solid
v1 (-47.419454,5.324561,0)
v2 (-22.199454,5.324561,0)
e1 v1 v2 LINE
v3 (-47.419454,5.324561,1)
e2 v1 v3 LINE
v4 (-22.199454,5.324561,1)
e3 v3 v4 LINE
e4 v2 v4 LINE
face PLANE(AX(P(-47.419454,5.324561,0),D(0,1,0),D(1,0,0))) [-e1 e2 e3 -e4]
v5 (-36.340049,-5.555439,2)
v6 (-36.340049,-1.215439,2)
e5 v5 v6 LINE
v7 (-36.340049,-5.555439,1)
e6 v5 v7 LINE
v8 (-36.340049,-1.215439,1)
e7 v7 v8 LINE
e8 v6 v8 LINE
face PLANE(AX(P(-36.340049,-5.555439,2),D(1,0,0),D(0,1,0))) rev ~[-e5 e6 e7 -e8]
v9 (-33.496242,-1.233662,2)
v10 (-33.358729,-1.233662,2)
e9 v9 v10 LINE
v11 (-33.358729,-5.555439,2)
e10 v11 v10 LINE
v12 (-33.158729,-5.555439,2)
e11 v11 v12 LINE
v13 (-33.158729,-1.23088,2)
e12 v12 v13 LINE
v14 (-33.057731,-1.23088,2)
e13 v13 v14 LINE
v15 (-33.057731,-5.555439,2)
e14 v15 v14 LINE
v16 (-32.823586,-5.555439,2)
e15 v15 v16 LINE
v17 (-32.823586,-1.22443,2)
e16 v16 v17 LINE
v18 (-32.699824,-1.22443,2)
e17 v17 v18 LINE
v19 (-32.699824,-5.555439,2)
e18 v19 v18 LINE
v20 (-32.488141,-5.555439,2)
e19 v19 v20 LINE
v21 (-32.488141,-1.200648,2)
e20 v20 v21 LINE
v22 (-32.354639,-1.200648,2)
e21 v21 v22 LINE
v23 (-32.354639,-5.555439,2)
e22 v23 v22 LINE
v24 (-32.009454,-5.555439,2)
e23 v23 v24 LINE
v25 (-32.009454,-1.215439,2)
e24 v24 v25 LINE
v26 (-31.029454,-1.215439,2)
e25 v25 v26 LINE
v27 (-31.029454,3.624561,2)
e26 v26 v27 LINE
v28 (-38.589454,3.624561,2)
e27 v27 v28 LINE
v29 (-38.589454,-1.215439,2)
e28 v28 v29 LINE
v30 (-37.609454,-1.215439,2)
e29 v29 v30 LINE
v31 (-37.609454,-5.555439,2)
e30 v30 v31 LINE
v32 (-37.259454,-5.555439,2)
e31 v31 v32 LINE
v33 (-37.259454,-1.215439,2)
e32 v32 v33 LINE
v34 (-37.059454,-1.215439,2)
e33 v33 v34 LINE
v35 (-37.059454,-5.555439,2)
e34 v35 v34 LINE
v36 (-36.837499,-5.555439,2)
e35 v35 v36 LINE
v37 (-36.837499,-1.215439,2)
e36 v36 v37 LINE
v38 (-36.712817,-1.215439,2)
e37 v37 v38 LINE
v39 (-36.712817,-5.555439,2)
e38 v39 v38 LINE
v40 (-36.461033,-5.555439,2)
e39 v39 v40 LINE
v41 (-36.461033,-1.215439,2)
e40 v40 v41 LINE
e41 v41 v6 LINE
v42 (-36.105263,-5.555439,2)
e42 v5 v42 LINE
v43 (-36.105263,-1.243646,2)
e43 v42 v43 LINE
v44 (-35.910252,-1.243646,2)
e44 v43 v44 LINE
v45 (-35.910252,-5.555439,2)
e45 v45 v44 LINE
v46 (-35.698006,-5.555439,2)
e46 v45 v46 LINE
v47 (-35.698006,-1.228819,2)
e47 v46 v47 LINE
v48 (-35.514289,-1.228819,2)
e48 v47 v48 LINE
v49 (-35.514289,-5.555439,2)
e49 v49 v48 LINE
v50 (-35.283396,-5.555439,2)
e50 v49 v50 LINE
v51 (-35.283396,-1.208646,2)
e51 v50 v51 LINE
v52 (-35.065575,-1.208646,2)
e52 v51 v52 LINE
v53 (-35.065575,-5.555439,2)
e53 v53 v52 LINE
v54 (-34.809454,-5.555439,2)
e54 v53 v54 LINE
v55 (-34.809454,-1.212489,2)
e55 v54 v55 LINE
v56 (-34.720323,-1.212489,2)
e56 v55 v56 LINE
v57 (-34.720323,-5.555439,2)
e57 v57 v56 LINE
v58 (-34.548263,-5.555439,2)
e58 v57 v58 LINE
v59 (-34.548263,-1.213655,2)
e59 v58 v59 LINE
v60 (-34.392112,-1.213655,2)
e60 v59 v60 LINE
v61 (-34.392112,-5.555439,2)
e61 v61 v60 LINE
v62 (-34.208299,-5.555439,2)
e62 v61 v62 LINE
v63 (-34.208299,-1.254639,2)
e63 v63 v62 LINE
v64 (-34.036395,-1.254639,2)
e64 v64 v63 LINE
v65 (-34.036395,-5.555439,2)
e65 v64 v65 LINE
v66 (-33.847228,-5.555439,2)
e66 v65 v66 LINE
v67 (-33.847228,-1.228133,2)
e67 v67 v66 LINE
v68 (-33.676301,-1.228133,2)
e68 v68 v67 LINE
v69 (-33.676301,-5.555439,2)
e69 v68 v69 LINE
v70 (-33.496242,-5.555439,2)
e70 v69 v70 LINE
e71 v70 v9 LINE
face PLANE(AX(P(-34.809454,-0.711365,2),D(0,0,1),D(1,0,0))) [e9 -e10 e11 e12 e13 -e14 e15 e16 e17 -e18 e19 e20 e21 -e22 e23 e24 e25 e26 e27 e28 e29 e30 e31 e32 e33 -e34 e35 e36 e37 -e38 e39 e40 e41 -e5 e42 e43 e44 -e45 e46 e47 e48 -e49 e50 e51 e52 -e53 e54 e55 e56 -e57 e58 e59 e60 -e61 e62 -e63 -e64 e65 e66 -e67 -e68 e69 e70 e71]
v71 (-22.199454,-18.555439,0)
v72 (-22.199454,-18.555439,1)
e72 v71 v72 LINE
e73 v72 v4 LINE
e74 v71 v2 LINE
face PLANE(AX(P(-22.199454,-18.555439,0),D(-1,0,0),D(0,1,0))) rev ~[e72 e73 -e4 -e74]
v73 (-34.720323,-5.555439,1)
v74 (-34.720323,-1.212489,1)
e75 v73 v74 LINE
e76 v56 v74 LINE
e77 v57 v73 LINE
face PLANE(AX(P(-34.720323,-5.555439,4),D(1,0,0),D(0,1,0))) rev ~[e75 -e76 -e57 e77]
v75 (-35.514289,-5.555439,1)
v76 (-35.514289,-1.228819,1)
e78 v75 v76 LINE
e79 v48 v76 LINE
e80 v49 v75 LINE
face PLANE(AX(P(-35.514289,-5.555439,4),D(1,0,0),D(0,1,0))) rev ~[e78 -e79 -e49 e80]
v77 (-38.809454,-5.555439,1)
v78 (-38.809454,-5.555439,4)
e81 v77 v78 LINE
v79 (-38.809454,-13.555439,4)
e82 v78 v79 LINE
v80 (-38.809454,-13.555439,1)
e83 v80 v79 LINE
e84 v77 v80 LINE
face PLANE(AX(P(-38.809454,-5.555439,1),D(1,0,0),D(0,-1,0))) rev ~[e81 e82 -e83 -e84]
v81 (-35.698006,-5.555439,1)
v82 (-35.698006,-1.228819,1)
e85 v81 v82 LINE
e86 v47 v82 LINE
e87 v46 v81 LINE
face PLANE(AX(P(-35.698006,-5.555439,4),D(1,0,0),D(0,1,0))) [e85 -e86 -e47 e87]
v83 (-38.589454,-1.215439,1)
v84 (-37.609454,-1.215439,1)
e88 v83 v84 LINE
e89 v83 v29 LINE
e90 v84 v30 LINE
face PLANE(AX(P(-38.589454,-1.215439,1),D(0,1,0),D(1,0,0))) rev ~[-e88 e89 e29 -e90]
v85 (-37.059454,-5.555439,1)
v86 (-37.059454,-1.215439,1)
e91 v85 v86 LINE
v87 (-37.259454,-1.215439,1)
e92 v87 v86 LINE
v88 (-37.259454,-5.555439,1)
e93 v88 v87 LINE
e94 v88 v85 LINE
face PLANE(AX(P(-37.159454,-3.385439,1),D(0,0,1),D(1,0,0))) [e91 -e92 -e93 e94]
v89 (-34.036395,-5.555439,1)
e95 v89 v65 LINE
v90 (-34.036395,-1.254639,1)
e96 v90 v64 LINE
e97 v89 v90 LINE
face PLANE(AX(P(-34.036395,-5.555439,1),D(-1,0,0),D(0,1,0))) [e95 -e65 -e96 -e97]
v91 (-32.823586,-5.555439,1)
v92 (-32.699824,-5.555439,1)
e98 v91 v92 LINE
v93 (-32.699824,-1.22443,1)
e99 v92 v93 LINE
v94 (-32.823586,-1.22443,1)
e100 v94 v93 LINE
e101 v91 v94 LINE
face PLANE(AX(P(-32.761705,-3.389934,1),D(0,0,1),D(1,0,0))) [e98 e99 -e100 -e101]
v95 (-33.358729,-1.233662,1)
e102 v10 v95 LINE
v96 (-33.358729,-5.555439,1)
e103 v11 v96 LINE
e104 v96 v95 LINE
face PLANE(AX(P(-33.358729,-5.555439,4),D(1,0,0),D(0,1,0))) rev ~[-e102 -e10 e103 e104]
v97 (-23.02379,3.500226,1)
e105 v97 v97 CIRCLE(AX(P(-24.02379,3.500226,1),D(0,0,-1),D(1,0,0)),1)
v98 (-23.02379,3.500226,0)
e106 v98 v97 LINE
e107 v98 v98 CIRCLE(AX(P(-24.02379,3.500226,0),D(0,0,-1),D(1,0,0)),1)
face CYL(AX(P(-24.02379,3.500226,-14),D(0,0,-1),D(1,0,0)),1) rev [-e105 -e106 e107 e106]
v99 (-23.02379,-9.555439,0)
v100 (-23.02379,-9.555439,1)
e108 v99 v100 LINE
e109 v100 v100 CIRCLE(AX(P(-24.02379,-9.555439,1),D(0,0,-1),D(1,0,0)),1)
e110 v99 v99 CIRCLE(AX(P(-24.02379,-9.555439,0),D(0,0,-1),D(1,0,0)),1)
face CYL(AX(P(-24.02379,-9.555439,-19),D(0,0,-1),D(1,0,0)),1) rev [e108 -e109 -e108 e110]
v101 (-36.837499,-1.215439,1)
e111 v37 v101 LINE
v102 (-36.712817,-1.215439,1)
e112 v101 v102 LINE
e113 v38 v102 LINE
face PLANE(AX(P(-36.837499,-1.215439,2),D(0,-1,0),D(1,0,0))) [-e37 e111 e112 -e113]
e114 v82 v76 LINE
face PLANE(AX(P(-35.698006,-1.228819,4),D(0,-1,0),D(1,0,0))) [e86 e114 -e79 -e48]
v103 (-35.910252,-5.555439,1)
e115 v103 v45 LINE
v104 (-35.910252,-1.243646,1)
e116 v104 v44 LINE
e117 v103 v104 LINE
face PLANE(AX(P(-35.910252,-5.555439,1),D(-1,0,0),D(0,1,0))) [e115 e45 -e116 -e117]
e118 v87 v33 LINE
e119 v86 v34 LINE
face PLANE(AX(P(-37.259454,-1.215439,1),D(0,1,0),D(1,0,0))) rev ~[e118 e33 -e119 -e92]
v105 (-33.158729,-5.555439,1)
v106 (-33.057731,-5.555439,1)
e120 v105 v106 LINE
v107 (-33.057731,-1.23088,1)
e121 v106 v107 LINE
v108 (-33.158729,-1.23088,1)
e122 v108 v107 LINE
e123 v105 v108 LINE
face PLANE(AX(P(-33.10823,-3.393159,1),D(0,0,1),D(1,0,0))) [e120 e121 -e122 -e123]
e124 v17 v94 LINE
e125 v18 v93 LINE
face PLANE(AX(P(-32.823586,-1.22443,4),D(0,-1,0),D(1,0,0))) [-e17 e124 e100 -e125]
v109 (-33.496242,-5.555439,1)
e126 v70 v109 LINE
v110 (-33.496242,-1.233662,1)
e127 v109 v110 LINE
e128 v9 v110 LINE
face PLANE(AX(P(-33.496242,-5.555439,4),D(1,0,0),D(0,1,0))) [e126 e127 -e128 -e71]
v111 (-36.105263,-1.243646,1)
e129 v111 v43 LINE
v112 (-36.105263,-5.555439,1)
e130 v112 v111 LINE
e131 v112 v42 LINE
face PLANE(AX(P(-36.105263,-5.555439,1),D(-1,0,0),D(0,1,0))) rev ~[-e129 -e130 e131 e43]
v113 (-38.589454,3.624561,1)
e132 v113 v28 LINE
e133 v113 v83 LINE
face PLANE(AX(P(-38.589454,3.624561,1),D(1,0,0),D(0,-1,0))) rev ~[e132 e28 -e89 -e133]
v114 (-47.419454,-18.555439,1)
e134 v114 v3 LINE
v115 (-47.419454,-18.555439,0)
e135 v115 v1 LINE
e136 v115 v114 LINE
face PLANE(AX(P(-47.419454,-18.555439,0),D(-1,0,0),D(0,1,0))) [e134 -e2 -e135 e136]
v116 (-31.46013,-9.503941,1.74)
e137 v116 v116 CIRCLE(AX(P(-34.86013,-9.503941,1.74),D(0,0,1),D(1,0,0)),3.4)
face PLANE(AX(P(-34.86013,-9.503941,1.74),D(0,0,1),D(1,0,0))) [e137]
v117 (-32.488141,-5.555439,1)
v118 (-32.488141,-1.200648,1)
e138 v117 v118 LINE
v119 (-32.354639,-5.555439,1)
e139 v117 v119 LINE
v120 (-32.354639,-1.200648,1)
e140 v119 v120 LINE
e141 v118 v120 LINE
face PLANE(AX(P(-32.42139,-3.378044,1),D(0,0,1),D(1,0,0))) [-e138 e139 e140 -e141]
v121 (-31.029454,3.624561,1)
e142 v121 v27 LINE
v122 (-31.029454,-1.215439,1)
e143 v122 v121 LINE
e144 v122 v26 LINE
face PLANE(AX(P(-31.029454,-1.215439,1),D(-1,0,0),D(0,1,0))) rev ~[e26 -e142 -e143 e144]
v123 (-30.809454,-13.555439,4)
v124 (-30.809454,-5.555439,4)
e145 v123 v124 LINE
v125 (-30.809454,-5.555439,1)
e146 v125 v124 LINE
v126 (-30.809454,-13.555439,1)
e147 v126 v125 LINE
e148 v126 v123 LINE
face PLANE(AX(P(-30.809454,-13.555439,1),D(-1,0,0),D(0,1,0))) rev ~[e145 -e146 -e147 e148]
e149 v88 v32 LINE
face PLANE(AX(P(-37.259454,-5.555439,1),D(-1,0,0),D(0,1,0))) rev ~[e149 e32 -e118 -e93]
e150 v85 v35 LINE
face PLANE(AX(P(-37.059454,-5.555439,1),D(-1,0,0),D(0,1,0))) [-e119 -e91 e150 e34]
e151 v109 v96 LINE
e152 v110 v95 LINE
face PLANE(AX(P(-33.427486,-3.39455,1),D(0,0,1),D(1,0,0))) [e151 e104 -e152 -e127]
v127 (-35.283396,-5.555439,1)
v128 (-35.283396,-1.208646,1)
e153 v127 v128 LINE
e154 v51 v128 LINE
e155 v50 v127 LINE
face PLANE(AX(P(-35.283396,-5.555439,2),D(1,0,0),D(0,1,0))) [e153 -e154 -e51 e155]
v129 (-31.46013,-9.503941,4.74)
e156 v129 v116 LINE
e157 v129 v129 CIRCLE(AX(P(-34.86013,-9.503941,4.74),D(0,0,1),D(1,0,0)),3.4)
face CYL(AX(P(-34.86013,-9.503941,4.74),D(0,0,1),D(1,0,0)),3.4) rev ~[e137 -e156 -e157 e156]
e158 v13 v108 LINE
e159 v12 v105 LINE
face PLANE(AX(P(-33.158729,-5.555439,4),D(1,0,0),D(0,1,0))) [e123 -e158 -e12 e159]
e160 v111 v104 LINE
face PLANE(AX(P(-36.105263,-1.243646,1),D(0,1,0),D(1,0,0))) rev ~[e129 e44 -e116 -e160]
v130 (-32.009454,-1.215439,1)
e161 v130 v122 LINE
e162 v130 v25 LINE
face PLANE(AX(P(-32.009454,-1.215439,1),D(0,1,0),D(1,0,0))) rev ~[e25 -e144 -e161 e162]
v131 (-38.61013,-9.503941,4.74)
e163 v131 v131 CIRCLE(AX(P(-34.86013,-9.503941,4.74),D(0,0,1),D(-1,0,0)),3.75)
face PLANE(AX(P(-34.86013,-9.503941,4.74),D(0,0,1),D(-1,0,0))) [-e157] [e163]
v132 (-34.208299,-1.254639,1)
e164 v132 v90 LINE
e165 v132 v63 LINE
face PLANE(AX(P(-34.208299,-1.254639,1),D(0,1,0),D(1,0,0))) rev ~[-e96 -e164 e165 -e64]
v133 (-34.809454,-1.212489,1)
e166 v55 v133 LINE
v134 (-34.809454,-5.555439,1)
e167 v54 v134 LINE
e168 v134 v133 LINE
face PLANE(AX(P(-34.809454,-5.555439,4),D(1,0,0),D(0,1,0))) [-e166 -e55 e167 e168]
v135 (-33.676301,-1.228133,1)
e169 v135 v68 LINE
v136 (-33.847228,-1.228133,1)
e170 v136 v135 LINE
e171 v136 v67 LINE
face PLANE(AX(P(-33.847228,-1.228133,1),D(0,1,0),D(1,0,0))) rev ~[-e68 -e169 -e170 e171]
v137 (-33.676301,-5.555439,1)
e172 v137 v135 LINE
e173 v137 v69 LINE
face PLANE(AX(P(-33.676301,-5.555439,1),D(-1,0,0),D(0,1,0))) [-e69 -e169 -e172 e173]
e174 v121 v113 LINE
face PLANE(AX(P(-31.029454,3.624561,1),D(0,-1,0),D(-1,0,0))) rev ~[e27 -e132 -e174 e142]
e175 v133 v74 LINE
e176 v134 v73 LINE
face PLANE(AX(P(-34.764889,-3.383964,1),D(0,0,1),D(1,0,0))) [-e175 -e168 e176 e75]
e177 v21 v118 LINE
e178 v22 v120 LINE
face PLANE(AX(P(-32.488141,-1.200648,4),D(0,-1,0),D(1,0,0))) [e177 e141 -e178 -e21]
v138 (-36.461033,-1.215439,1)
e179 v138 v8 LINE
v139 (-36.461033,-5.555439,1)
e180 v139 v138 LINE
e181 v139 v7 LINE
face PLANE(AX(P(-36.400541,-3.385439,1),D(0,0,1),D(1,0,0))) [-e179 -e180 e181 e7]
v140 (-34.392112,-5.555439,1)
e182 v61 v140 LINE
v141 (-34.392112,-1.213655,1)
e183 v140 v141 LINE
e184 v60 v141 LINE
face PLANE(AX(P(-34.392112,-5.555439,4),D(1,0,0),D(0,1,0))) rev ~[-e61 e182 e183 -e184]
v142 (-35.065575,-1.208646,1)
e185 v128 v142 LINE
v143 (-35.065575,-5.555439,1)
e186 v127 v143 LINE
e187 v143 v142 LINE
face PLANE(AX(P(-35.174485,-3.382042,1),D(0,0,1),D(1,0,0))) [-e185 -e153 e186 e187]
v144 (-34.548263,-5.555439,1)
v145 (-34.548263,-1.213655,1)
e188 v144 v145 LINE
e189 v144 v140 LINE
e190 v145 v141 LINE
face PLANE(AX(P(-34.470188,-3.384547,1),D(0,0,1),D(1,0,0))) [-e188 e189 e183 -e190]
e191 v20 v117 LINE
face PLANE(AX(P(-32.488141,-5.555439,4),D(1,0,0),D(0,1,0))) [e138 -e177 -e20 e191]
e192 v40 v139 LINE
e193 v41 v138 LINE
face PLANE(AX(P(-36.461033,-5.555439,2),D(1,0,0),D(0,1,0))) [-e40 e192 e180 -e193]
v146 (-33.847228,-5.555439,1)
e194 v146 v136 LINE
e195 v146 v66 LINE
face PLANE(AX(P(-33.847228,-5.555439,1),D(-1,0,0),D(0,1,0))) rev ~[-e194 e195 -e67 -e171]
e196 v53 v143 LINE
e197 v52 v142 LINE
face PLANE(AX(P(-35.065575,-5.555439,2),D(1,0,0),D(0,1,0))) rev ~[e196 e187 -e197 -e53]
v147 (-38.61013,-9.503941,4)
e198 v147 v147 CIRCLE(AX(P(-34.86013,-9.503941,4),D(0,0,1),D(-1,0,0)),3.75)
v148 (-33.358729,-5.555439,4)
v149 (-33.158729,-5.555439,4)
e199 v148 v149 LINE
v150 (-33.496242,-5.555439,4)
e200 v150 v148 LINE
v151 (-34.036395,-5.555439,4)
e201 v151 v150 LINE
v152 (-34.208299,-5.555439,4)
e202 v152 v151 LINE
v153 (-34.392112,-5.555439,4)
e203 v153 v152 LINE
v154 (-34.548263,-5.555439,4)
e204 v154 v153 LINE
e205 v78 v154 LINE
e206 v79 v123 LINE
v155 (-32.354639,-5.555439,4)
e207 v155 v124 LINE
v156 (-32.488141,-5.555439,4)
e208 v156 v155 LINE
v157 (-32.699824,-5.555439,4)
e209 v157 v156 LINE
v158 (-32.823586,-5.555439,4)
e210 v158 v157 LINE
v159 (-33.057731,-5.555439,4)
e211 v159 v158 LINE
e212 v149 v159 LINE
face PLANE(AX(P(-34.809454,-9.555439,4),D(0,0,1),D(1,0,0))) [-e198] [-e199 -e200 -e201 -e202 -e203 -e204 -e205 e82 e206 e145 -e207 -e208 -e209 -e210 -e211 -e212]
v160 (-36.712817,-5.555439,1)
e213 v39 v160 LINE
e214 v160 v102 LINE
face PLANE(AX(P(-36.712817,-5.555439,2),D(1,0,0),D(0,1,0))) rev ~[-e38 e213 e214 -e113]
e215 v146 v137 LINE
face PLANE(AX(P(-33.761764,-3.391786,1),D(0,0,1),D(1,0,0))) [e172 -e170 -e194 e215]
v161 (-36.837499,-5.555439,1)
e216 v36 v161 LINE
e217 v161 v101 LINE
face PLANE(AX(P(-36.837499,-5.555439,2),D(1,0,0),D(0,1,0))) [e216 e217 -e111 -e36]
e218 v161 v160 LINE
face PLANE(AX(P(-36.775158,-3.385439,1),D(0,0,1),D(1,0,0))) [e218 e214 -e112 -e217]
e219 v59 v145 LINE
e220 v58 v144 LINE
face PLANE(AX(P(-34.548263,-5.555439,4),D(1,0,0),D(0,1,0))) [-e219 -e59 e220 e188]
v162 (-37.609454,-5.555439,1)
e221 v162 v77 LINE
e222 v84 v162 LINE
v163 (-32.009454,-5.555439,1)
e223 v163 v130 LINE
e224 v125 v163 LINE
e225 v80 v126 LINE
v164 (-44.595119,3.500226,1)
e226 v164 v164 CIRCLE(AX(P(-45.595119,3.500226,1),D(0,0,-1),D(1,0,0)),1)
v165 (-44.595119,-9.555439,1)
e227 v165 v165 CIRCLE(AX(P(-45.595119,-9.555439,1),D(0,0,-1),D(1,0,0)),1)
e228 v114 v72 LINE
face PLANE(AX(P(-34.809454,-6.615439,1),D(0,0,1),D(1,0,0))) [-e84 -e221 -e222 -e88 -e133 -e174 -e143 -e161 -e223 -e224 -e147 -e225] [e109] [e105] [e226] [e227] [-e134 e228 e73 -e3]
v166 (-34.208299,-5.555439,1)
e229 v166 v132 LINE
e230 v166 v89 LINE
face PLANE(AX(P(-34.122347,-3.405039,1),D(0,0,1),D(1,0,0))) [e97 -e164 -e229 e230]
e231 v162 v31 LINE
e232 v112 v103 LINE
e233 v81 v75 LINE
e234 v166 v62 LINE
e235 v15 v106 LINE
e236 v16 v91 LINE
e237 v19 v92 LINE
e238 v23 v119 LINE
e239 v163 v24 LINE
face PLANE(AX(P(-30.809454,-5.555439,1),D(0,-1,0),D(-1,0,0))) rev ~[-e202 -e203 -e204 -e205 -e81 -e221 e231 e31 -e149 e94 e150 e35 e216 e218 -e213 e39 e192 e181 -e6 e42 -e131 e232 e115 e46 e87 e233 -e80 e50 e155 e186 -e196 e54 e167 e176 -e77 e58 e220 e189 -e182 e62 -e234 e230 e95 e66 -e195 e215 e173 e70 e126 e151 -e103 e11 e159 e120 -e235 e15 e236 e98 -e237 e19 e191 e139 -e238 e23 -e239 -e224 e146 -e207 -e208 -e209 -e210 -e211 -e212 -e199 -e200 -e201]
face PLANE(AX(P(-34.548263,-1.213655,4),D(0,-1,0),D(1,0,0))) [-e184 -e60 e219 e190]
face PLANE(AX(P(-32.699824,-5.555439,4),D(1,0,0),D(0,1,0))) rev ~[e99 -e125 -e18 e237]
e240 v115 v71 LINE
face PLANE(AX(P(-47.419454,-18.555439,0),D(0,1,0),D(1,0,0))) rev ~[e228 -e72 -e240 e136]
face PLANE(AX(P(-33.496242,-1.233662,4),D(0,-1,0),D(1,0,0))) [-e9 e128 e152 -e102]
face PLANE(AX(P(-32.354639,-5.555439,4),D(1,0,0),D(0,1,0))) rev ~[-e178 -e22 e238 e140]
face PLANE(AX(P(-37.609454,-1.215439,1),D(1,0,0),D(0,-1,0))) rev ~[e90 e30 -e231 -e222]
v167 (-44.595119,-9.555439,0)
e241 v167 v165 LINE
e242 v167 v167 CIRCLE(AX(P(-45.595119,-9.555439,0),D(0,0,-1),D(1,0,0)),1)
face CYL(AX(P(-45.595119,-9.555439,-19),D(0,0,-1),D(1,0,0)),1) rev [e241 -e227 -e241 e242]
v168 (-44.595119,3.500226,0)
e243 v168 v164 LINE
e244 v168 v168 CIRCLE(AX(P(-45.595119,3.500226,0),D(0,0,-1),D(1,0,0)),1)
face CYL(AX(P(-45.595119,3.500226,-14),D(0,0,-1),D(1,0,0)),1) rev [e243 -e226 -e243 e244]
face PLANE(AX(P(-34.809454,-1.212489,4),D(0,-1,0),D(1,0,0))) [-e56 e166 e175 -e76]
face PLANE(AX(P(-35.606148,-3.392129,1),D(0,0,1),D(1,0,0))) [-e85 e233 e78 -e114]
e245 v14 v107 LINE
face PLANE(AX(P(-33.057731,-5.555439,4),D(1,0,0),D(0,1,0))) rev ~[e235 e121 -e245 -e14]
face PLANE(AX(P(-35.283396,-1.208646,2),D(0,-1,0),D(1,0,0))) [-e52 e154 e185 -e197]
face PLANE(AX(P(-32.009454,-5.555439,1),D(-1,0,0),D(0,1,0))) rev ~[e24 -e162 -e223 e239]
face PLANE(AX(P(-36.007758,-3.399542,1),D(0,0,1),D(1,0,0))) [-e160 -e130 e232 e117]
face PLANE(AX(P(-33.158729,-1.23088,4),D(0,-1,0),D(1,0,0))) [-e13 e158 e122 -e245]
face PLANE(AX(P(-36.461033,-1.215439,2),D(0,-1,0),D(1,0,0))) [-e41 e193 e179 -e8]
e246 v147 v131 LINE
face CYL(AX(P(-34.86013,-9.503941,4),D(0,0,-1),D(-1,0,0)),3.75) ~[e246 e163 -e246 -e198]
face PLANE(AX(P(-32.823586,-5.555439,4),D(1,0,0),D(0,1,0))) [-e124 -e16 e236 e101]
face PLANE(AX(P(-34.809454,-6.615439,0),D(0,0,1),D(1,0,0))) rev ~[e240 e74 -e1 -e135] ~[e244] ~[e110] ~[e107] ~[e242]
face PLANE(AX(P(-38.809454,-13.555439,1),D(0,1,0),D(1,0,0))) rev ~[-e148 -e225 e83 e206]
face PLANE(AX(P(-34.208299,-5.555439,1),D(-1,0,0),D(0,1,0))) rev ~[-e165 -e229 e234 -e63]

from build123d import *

# Parameters (mm, degrees)
SKETCH1_W               = 25.22
SKETCH1_H               = 23.88
BOSS_EXTRUDE1_DEPTH     = 1
CUT_EXTRUDE1_DEPTH      = 31
CUT_EXTRUDE1_DEPTH_BACK = 15
SKETCH2_R               = 1
BOSS_EXTRUDE2_DEPTH     = 3
SKETCH5_R               = 3.75
BOSS_EXTRUDE4_DEPTH     = 0.74
SKETCH6_R               = 3.4
CUT_EXTRUDE2_DEPTH      = 3
CUT_EXTRUDE3_DEPTH      = 16
CUT_EXTRUDE3_DEPTH_BACK = 20
SKETCH7_R               = 1
BOSS_EXTRUDE5_DEPTH     = 1
SKETCH9_W               = 0.2
SKETCH9_H               = 4.34
CUT_EXTRUDE8_DEPTH      = 1
SKETCH10_W              = 0.124682
SKETCH10_H              = 4.34
CUT_EXTRUDE14_DEPTH     = 1
SKETCH13_W              = 0.120984153
SKETCH13_H              = 4.34
CUT_EXTRUDE15_DEPTH     = 1
SKETCH14_W              = 0.195011185
SKETCH14_H              = 4.311792785
CUT_EXTRUDE18_DEPTH     = 1
SKETCH15_W              = 0.183717696
SKETCH15_H              = 4.326619606
CUT_EXTRUDE21_DEPTH     = 3
SKETCH16_W              = 0.21782098
SKETCH16_H              = 4.34679289
CUT_EXTRUDE22_DEPTH     = 1
SKETCH17_W              = 0.089131755
SKETCH17_H              = 4.34294968
CUT_EXTRUDE23_DEPTH     = 3
SKETCH18_W              = 0.156151398
SKETCH18_H              = 4.341783659
CUT_EXTRUDE24_DEPTH     = 3
SKETCH19_W              = 0.171903048
SKETCH19_H              = 4.300799657
CUT_EXTRUDE26_DEPTH     = 3
SKETCH20_W              = 0.170926161
SKETCH20_H              = 4.327306154
CUT_EXTRUDE28_DEPTH     = 3
SKETCH21_W              = 0.137513245
SKETCH21_H              = 4.32177715
CUT_EXTRUDE29_DEPTH     = 3
SKETCH22_W              = 0.100998317
SKETCH22_H              = 4.324558634
CUT_EXTRUDE30_DEPTH     = 3
SKETCH23_W              = 0.123761921
SKETCH23_H              = 4.331008445
CUT_EXTRUDE31_DEPTH     = 3
SKETCH24_W              = 0.133501637
SKETCH24_H              = 4.354790364
CUT_EXTRUDE32_DEPTH     = 3


with BuildPart() as part:
    # Sketch1 → Boss-Extrude1 (new body)
    with BuildSketch(Plane.XY):
        with Locations((-34.809454486, -6.615438712)):
            Rectangle(SKETCH1_W, SKETCH1_H)
    extrude(amount=BOSS_EXTRUDE1_DEPTH)

    # Sketch2 → Cut-Extrude1 (cut, two sides: drawn at the far end of the back side and taken through both)
    with BuildSketch(Plane.XY.offset(1).offset(-CUT_EXTRUDE1_DEPTH_BACK)):
        with Locations((-24.023789981, 3.500225793)):
            Circle(SKETCH2_R)
        with Locations((-45.59511899, 3.500225793)):
            Circle(SKETCH2_R)
    extrude(amount=CUT_EXTRUDE1_DEPTH + CUT_EXTRUDE1_DEPTH_BACK, mode=Mode.SUBTRACT)

    # Sketch3 → Boss-Extrude2 (add)
    with BuildSketch(Plane.XY.offset(1)):
        Polygon((-34.809454486, -13.555438712), (-30.809454486, -13.555438712), (-30.809454486, -5.555438712), (-38.809454486, -5.555438712), (-38.809454486, -13.555438712), align=None)
    extrude(amount=BOSS_EXTRUDE2_DEPTH)

    # Sketch5 → Boss-Extrude4 (add)
    with BuildSketch(Plane.XY.offset(4)):
        with Locations(Location((-34.860129967, -9.503941157, 0), (0, 0, 180))):
            Circle(SKETCH5_R)
    extrude(amount=BOSS_EXTRUDE4_DEPTH)

    # Sketch6 → Cut-Extrude2 (cut)
    with BuildSketch(Plane.XY.offset(4.74)):
        with Locations((-34.860129967, -9.503941157)):
            Circle(SKETCH6_R)
    extrude(amount=-CUT_EXTRUDE2_DEPTH, mode=Mode.SUBTRACT)

    # Sketch7 → Cut-Extrude3 (cut, two sides: drawn at the far end of the back side and taken through both)
    with BuildSketch(Plane.XY.offset(1).offset(-CUT_EXTRUDE3_DEPTH_BACK)):
        with Locations((-24.023789981, -9.555438712)):
            Circle(SKETCH7_R)
        with Locations((-45.59511899, -9.555438712)):
            Circle(SKETCH7_R)
    extrude(amount=CUT_EXTRUDE3_DEPTH + CUT_EXTRUDE3_DEPTH_BACK, mode=Mode.SUBTRACT)

    # Sketch8 → Boss-Extrude5 (add)
    with BuildSketch(Plane.XY.offset(1)):
        Polygon((-38.589454486, 3.624561288), (-38.589454486, -1.215438712), (-37.609454486, -1.215438712), (-37.609454486, -5.555438712), (-32.009454486, -5.555438712), (-32.009454486, -1.215438712), (-31.029454486, -1.215438712), (-31.029454486, 3.624561288), (-34.809454486, 3.624561288), align=None)
    extrude(amount=BOSS_EXTRUDE5_DEPTH)

    # Sketch9 → Cut-Extrude8 (cut)
    with BuildSketch(Plane.XY.offset(1)):
        with Locations((-37.159454486, -3.385438712)):
            Rectangle(SKETCH9_W, SKETCH9_H)
    extrude(amount=CUT_EXTRUDE8_DEPTH, mode=Mode.SUBTRACT)

    # Sketch10 → Cut-Extrude14 (cut)
    with BuildSketch(Plane.XY.offset(2)):
        with Locations((-36.775157633, -3.385438712)):
            Rectangle(SKETCH10_W, SKETCH10_H)
    extrude(amount=-CUT_EXTRUDE14_DEPTH, mode=Mode.SUBTRACT)

    # Sketch13 → Cut-Extrude15 (cut)
    with BuildSketch(Plane.XY.offset(2)):
        with Locations((-36.400540983, -3.385438712)):
            Rectangle(SKETCH13_W, SKETCH13_H)
    extrude(amount=-CUT_EXTRUDE15_DEPTH, mode=Mode.SUBTRACT)

    # Sketch14 → Cut-Extrude18 (cut)
    with BuildSketch(Plane.XY.offset(1)):
        with Locations((-36.007757653, -3.39954232)):
            Rectangle(SKETCH14_W, SKETCH14_H)
    extrude(amount=CUT_EXTRUDE18_DEPTH, mode=Mode.SUBTRACT)

    # Sketch15 → Cut-Extrude21 (cut)
    with BuildSketch(Plane.XY.offset(4)):
        with Locations((-35.606147547, -3.392128909)):
            Rectangle(SKETCH15_W, SKETCH15_H)
    extrude(amount=-CUT_EXTRUDE21_DEPTH, mode=Mode.SUBTRACT)

    # Sketch16 → Cut-Extrude22 (cut)
    with BuildSketch(Plane.XY.offset(2)):
        with Locations((-35.174485224, -3.382042267)):
            Rectangle(SKETCH16_W, SKETCH16_H)
    extrude(amount=-CUT_EXTRUDE22_DEPTH, mode=Mode.SUBTRACT)

    # Sketch17 → Cut-Extrude23 (cut)
    with BuildSketch(Plane.XY.offset(4)):
        with Locations((-34.764888609, -3.383963872)):
            Rectangle(SKETCH17_W, SKETCH17_H)
    extrude(amount=-CUT_EXTRUDE23_DEPTH, mode=Mode.SUBTRACT)

    # Sketch18 → Cut-Extrude24 (cut)
    with BuildSketch(Plane.XY.offset(4)):
        with Locations((-34.470187586, -3.384546883)):
            Rectangle(SKETCH18_W, SKETCH18_H)
    extrude(amount=-CUT_EXTRUDE24_DEPTH, mode=Mode.SUBTRACT)

    # Sketch19 → Cut-Extrude26 (cut)
    with BuildSketch(Plane.XY.offset(1)):
        with Locations((-34.122346996, -3.405038884)):
            Rectangle(SKETCH19_W, SKETCH19_H)
    extrude(amount=CUT_EXTRUDE26_DEPTH, mode=Mode.SUBTRACT)

    # Sketch20 → Cut-Extrude28 (cut)
    with BuildSketch(Plane.XY.offset(1)):
        with Locations((-33.761764477, -3.391785635)):
            Rectangle(SKETCH20_W, SKETCH20_H)
    extrude(amount=CUT_EXTRUDE28_DEPTH, mode=Mode.SUBTRACT)

    # Sketch21 → Cut-Extrude29 (cut)
    with BuildSketch(Plane.XY.offset(4)):
        with Locations((-33.427485819, -3.394550137)):
            Rectangle(SKETCH21_W, SKETCH21_H)
    extrude(amount=-CUT_EXTRUDE29_DEPTH, mode=Mode.SUBTRACT)

    # Sketch22 → Cut-Extrude30 (cut)
    with BuildSketch(Plane.XY.offset(4)):
        with Locations((-33.108230038, -3.393159395)):
            Rectangle(SKETCH22_W, SKETCH22_H)
    extrude(amount=-CUT_EXTRUDE30_DEPTH, mode=Mode.SUBTRACT)

    # Sketch23 → Cut-Extrude31 (cut)
    with BuildSketch(Plane.XY.offset(4)):
        with Locations((-32.761705251, -3.389934489)):
            Rectangle(SKETCH23_W, SKETCH23_H)
    extrude(amount=-CUT_EXTRUDE31_DEPTH, mode=Mode.SUBTRACT)

    # Sketch24 → Cut-Extrude32 (cut)
    with BuildSketch(Plane.XY.offset(4)):
        with Locations((-32.421390207, -3.37804353)):
            Rectangle(SKETCH24_W, SKETCH24_H)
    extrude(amount=-CUT_EXTRUDE32_DEPTH, mode=Mode.SUBTRACT)


solid = part.part
